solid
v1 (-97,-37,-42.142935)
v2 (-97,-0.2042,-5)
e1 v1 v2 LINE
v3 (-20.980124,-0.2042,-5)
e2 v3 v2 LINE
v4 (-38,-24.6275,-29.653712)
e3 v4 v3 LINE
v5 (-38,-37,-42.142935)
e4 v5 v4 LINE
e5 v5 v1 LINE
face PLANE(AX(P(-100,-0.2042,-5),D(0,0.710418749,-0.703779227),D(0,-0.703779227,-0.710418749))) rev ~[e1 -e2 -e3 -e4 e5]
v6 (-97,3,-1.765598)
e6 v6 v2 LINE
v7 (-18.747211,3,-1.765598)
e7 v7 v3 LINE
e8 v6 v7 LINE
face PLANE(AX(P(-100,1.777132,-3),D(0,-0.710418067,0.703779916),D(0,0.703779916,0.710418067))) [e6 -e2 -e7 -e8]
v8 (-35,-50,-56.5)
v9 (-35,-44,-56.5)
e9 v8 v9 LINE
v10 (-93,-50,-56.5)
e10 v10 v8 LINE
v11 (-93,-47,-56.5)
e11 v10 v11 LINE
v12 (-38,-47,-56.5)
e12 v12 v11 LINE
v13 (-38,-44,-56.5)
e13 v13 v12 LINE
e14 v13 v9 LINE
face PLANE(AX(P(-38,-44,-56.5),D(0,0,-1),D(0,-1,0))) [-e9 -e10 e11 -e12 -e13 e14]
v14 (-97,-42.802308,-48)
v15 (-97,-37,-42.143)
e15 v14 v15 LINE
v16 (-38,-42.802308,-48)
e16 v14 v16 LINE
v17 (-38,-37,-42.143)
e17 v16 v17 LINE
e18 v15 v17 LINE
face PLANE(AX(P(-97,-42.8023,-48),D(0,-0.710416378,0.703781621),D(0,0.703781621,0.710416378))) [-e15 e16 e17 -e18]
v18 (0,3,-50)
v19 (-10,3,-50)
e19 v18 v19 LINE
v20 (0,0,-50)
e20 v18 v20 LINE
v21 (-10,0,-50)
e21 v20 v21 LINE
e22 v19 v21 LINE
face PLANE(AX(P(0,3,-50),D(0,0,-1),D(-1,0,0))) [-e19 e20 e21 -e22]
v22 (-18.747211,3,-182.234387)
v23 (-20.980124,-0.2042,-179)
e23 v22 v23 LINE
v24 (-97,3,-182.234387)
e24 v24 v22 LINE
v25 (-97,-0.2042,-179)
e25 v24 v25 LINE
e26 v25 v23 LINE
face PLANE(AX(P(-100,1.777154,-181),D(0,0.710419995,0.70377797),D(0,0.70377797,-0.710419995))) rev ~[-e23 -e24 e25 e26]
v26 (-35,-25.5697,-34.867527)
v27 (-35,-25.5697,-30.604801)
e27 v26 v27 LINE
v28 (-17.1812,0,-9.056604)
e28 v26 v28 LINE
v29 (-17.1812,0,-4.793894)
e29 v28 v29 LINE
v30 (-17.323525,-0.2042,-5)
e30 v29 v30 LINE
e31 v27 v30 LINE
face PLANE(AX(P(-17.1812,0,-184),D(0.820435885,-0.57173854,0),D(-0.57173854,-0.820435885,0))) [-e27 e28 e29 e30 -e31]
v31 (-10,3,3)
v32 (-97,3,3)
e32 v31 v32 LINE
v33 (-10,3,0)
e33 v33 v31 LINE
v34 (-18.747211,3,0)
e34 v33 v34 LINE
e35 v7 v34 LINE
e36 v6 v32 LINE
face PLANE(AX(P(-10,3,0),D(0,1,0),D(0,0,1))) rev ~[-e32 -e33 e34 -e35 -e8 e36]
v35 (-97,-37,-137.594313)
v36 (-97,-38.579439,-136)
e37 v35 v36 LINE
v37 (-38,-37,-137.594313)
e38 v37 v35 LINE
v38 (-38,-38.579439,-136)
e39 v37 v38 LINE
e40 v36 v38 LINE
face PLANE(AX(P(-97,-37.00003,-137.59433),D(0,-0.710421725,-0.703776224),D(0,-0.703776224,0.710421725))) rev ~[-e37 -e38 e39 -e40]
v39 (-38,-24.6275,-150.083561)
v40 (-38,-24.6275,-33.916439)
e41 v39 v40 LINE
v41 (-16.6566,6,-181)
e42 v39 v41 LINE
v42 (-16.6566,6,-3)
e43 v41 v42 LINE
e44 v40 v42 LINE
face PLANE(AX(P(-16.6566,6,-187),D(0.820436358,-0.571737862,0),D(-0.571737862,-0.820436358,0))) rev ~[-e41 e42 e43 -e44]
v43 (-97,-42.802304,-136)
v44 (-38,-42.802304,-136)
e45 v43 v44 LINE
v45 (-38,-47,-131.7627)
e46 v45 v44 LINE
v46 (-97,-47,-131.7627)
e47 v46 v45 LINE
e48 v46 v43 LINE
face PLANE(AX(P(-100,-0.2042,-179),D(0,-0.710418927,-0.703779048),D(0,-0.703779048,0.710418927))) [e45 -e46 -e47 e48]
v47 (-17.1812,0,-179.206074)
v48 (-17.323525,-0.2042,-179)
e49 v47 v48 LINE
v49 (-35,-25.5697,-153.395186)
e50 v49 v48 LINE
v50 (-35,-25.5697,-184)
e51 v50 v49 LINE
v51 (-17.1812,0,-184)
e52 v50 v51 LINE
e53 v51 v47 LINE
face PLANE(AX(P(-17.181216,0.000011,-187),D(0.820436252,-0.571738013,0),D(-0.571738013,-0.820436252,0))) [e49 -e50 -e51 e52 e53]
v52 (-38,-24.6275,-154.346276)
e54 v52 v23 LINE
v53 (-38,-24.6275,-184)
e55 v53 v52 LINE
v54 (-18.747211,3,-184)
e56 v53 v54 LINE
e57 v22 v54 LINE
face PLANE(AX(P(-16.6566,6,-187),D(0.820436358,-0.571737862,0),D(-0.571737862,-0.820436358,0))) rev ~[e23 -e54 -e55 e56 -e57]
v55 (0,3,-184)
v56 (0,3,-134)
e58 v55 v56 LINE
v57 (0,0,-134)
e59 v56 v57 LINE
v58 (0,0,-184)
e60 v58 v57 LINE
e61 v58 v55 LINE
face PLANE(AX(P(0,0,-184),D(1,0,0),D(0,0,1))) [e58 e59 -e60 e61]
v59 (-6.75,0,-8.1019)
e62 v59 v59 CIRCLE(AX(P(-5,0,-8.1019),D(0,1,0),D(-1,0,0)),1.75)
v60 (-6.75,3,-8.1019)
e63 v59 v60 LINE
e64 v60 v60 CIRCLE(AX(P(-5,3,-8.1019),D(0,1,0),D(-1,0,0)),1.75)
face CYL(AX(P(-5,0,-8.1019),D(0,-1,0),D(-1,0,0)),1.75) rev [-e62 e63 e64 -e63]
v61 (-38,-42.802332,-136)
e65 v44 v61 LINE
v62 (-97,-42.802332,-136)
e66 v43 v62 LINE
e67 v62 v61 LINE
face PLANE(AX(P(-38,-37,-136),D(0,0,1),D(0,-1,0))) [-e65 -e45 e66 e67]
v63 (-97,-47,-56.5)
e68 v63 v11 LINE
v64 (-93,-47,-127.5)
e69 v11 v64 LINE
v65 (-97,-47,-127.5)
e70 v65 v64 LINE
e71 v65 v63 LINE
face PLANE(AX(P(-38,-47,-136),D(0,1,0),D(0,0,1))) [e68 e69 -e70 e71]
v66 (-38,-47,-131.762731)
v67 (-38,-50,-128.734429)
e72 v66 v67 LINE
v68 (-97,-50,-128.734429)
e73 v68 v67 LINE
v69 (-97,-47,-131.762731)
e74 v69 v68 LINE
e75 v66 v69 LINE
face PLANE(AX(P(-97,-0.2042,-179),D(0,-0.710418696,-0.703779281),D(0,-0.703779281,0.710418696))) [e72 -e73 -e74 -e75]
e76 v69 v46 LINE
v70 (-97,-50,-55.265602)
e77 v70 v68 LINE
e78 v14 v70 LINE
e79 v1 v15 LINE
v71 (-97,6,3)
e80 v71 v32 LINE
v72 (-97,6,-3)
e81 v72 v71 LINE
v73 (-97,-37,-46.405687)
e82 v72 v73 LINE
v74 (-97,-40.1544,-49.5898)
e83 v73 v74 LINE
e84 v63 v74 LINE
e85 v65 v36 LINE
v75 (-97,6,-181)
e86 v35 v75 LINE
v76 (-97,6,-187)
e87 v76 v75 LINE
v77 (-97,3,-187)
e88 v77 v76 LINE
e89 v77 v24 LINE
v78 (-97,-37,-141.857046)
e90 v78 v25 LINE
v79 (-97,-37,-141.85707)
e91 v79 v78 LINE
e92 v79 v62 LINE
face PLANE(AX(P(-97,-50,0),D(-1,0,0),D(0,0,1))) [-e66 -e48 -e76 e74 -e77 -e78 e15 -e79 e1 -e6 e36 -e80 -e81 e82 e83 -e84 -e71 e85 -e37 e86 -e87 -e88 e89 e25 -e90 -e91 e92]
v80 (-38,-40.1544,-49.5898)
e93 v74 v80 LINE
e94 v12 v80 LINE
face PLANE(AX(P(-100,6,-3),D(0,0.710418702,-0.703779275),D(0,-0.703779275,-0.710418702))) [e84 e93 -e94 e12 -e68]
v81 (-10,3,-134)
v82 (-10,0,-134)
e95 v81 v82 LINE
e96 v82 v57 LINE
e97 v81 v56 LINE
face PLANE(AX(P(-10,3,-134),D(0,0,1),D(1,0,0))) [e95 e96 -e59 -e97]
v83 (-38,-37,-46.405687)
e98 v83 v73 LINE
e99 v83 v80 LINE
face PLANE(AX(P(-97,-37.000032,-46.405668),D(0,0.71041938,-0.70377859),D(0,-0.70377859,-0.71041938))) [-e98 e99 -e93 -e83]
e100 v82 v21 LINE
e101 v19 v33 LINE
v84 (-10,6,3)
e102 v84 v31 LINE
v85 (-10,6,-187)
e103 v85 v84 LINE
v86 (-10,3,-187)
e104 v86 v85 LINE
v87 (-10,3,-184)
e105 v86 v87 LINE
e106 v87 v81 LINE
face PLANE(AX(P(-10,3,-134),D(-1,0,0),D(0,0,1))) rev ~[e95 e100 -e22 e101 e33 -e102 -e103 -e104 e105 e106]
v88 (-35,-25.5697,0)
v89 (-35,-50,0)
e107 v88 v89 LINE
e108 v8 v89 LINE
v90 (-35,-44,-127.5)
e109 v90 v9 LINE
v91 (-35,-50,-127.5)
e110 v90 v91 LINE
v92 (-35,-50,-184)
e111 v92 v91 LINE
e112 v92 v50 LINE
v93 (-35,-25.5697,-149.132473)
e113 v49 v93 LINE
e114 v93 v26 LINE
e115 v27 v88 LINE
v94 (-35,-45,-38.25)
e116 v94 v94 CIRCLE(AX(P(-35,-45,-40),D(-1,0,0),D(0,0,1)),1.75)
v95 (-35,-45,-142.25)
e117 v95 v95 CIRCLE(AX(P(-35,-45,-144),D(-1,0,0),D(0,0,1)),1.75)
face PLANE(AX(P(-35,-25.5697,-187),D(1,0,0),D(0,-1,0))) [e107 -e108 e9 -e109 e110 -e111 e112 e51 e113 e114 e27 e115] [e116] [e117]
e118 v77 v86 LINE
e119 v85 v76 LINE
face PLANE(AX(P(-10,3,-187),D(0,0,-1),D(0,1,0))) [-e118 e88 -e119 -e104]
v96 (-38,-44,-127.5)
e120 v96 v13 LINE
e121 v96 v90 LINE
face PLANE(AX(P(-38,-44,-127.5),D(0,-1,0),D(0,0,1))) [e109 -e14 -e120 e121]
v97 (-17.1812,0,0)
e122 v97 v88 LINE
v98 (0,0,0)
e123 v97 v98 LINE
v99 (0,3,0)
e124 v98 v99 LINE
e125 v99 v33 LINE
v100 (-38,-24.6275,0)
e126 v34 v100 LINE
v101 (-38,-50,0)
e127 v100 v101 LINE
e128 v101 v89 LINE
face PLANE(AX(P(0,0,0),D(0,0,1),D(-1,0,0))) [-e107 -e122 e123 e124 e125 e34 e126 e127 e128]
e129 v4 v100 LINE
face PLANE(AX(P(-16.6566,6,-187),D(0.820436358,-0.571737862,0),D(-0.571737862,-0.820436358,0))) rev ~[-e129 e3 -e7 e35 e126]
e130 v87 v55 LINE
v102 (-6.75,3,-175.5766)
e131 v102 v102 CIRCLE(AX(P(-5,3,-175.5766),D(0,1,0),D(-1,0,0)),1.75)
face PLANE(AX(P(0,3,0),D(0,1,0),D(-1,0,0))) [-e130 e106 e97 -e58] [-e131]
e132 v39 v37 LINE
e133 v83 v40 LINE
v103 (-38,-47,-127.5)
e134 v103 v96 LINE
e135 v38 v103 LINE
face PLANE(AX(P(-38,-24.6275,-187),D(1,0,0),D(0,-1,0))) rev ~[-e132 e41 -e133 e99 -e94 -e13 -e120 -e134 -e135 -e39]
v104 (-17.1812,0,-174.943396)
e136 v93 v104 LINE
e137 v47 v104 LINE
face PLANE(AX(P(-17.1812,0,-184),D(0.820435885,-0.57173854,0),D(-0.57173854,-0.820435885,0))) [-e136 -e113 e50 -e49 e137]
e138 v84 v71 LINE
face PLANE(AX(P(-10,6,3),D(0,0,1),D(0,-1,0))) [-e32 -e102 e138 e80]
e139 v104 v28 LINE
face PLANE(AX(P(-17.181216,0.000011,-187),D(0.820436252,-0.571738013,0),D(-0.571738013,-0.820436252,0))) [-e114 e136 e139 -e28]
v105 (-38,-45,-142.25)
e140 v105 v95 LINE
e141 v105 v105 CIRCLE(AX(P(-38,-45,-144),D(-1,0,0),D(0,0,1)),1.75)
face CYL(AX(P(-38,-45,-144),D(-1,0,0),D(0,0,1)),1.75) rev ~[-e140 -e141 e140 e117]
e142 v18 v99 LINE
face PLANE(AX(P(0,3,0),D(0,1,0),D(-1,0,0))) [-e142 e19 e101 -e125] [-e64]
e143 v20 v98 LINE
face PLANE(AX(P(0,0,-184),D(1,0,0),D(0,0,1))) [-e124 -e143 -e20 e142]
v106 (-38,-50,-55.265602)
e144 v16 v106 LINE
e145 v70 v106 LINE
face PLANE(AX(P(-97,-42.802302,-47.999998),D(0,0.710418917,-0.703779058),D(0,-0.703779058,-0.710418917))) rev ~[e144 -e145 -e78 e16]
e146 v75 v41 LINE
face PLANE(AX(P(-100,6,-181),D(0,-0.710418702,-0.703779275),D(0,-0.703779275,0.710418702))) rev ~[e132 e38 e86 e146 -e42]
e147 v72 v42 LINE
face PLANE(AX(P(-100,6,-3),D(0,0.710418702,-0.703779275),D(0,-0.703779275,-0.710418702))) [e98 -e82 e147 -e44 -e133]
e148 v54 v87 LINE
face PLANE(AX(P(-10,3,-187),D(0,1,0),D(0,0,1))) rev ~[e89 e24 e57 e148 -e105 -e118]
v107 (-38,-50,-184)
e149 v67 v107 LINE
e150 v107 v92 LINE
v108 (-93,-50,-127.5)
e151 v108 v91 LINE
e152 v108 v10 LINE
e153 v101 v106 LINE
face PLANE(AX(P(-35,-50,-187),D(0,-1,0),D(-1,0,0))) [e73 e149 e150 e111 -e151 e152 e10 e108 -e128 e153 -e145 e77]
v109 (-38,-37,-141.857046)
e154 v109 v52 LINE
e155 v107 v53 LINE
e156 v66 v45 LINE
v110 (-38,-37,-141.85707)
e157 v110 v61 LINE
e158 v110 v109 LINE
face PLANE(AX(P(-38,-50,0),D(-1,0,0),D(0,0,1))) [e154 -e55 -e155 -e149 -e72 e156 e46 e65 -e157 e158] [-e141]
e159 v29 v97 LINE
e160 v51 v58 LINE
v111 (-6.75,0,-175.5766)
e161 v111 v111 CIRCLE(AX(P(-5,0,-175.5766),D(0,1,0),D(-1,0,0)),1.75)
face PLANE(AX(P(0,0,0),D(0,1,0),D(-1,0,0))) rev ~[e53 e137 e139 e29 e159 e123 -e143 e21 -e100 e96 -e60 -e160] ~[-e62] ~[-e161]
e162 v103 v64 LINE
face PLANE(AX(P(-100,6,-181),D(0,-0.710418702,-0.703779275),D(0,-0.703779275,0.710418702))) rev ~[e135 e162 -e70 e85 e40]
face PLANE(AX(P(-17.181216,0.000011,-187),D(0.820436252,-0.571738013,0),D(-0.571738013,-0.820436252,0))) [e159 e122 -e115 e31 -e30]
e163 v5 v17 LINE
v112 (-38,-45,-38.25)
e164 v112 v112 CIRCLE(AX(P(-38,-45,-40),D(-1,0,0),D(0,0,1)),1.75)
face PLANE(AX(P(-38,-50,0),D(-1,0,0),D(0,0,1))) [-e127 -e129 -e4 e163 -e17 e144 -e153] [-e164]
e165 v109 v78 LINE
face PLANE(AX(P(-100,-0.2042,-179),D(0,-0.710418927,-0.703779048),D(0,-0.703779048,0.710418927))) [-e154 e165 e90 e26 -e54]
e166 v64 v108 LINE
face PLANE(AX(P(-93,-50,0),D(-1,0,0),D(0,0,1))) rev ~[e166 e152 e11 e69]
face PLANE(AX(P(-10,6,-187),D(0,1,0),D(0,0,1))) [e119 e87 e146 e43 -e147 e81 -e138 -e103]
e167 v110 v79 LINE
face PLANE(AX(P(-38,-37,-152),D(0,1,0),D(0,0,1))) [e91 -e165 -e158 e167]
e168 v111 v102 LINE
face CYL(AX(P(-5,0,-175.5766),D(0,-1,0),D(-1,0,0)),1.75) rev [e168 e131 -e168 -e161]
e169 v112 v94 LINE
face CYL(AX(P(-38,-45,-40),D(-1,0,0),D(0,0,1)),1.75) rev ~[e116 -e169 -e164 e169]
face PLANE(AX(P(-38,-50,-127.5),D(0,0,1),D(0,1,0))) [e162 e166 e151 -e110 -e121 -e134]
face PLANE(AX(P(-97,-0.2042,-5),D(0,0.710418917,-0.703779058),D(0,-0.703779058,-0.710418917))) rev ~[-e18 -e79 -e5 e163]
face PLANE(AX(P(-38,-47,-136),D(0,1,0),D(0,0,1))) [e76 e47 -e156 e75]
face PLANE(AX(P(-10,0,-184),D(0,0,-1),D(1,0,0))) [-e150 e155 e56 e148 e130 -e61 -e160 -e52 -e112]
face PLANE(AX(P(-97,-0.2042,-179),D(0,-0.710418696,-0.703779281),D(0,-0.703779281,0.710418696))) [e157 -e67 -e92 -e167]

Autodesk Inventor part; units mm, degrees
ref_plane "YZ Plane" through (0, 0, 0) normal (1, 0, 0) x (0, 1, 0)
ref_plane "XZ Plane" through (0, 0, 0) normal (0, 1, 0) x (-1, 0, 0)
ref_plane "XY Plane" through (0, 0, 0) normal (0, 0, 1) x (1, 0, 0)
sketch "스케치1" plane through (0, 0, 0) normal (0, 1, 0) x (-1, 0, 0)
  line L0 (0, 0) -> (10, 0)
  line L1 (10, 0) -> (10, -184)
  line L2 (10, -184) -> (0, -184)
  line L3 (0, -184) -> (0, 0)
  circle A0 centre (5, -175.5766) radius 1.75
  circle A1 centre (5, -8.1019) radius 1.75
  dimension "d0" = 184
  dimension "d1" = 10
  dimension "d2" = 5
  dimension "d3" = 3.5
  dimension "d4" = 3.5
  dimension "d5" = 5
  dimension "d109" = 167.4748
extrude "돌출1" add sketch "스케치1" along normal blind 3
sketch "스케치2" plane through (-10, 0, -184) normal (-1, 0, 0) x (0, 0, 1)
  line L0 (187, 0) -> (-3, 0)
  line L1 (-3, 0) -> (-3, 6)
  line L2 (-3, 6) -> (187, 6)
  line L3 (187, 6) -> (187, 0)
  line L4 (0, 0) -> (0, 3) projected
  line L5 (184, 0) -> (184, 3) projected
  line L6 (0, 3) -> (184, 3) projected
  line L7 (187, 0) -> (-3, 0)
  line L8 (-3, 0) -> (-3, 3)
  line L9 (-3, 3) -> (187, 3)
  line L10 (187, 3) -> (187, 0)
  dimension "d8" = 3
  dimension "d9" = 3
  dimension "d10" = 3
extrude "돌출2" add sketch "스케치2" along normal blind 3 contours L0 L4 L6 L5 | L9 L6 L1 L2 L3
sketch "스케치3" plane through (-10, 3, -187) normal (0, 0, -1) x (-1, 0, 0)
  line L0 (0, 3) -> (3, 3) projected
  line L1 (0, 3) -> (28, 3)
  line L2 (28, 3) -> (28, -48)
  line L3 (28, -48) -> (0, -48)
  line L4 (0, -48) -> (0, 3)
  line L5 (3, 3) -> (25, -28.5697)
  line L6 (25, -28.5697) -> (25, -48)
  line L7 (6.6566, 3) -> (28, -27.6275)
  line L8 (3, 0) -> (3, -3) projected
  line L9 (3, -3) -> (7.1812, -3)
  line L10 (3, -3) -> (6.6592, -3)
  line L11 (6.6592, -3) -> (6.6592, 3)
  line L12 (6.6592, 3) -> (3, 3)
  line L13 (3, 3) -> (3, -3)
  line L14 (28, -48) -> (25, -48)
  line L15 (25, -48) -> (25, -53)
  line L16 (25, -53) -> (28, -53)
  line L17 (28, -53) -> (28, -48)
  point P0 (-10, -3)
  dimension "d14" = 51
  dimension "d15" = 28
  dimension "d18" = 5
  dimension "d31" = 3
  dimension "d32" = 3
  dimension "d33" = 3
extrude "돌출3" add sketch "스케치3" against normal blind 190 contours L1 L7 L11 L5 | L5 L11 L9 L8 L13 | L11 L7 L2 L3 L6 L5 | L5 L9 L11 | L3 L17 L16 L15
sketch "스케치4" plane through (-10, 3, -187) normal (0, 0, -1) x (-1, 0, 0)
  line L0 (28, -53) -> (25, -53) projected
  line L1 (3, 0) -> (3, -3) projected
  line L2 (28, -53) -> (3, -53)
  line L3 (3, -53) -> (3, 0)
  line L4 (3, 0) -> (28, 0)
  line L5 (28, 0) -> (28, -53)
  point P0 (-10, -3)
extrude "돌출4" cut sketch "스케치4" against normal blind 3
sketch "스케치5" plane through (-10, 3, 3) normal (0, 0, 1) x (1, 0, 0)
  line L0 (-28, -53) -> (-25, -53) projected
  line L1 (-3, -3) -> (-3, 0) projected
  line L2 (-28, -53) -> (-3, -53)
  line L3 (-3, -53) -> (-3, 0)
  line L4 (-3, 0) -> (-28, 0)
  line L5 (-28, 0) -> (-28, -53)
  point P0 (10, -3)
extrude "돌출5" cut sketch "스케치5" against normal blind 3
sketch "스케치6" plane through (-38, -50, 0) normal (-1, 0, 0) x (0, 0, 1)
  circle A0 centre (-40, 5) radius 1.75
  circle A1 centre (-144, 5) radius 1.75
  line L0 (-184, 0) -> (0, 0) projected
  line L1 (0, 0) -> (0, 25.3725) projected
  point P0 (0, 50)
  dimension "d23" = 3.5
  dimension "d24" = 3.5
  dimension "d25" = 5
  dimension "d26" = 5
  dimension "d27" = 104
  dimension "d28" = 40
extrude "돌출6" cut sketch "스케치6" against normal blind 3
sketch "스케치7" plane through (-38, -50, 0) normal (-1, 0, 0) x (0, 0, 1)
  line L0 (-184, 0) -> (0, 0) projected
  line L1 (-56.5, 0) -> (-127.5, 0)
  line L2 (-127.5, 0) -> (-127.5, 6)
  line L3 (-127.5, 6) -> (-56.5, 6)
  line L4 (-56.5, 6) -> (-56.5, 0)
  line L5 (-184, 25.3725) -> (-184, 0) projected
  point P0 (0, 50)
  point P1 (-127.5, 0)
  dimension "d34" = 71
  dimension "d35" = 6
  dimension "d102" = 56.5
extrude "돌출7" cut sketch "스케치7" against normal blind 3
sketch "스케치8" plane through (-38, -50, 0) normal (-1, 0, 0) x (0, 0, 1)
  line L0 (0, 0) -> (-35, 0)
  line L1 (-35, 0) -> (-35, 3)
  line L2 (-35, 3) -> (0, 3)
  line L3 (0, 3) -> (0, 0)
  line L4 (-184, 0) -> (-184, 24.4303) projected
  line L5 (-184, 0) -> (-149, 0)
  line L6 (-149, 0) -> (-149, 3)
  line L7 (-149, 3) -> (-184, 3)
  line L8 (-184, 3) -> (-184, 0)
  circle A0 centre (-40, 5) radius 1.75 projected
  line L9 (-56.5, 0) -> (-56.5, 6) projected
  line L10 (-56.5, 0) -> (-45, 0)
  line L11 (-45, 0) -> (-45, 3)
  line L12 (-45, 3) -> (-56.5, 3)
  line L13 (-56.5, 3) -> (-56.5, 0)
  circle A1 centre (-144, 5) radius 1.75 projected
  line L14 (-184, 0) -> (-127.5, 0) projected
  line L15 (-127.5, 0) -> (-139, 0)
  line L16 (-139, 0) -> (-139, 3)
  line L17 (-139, 3) -> (-127.5, 3)
  line L18 (-127.5, 3) -> (-127.5, 0)
  line L19 (-139, 0) -> (-149, 0)
  line L20 (-149, 0) -> (-149, 10)
  line L21 (-149, 10) -> (-139, 10)
  line L22 (-139, 10) -> (-139, 0)
  line L23 (-184, 0) -> (-127.5, 0) projected
  line L24 (-136, 0) -> (-152, 0)
  line L25 (-152, 0) -> (-152, 13)
  line L26 (-152, 13) -> (-136, 13)
  line L27 (-136, 13) -> (-136, 0)
  line L28 (-35, 0) -> (-45, 0)
  line L29 (-45, 0) -> (-45, 10)
  line L30 (-45, 10) -> (-35, 10)
  line L31 (-35, 10) -> (-35, 0)
  line L32 (-56.5, 0) -> (0, 0) projected
  line L33 (-32, 0) -> (-48, 0)
  line L34 (-48, 0) -> (-48, 13)
  line L35 (-48, 13) -> (-32, 13)
  line L36 (-32, 13) -> (-32, 0)
  point P0 (0, 50)
  point P1 (-139, 1.5)
  point P2 (-152, 3)
  point P3 (-184, 3)
  point P4 (-149, 3)
  point P5 (-139, 3)
  point P6 (-136, 3)
  point P7 (-32, 3)
  point P8 (-48, 3)
  point P9 (-45, 3)
  point P10 (-35, 3)
  dimension "d38" = 3
  dimension "d39" = 3
  dimension "d41" = 5
  dimension "d42" = 3
  dimension "d43" = 5
  dimension "d44" = 5
  dimension "d45" = 3
  dimension "d46" = 5
  dimension "d47" = 5
  dimension "d48" = 0
  dimension "d49" = 0
  dimension "d50" = 3
  dimension "d51" = 3
  dimension "d52" = 3
  dimension "d53" = 5
  dimension "d54" = 3
  dimension "d55" = 3
  dimension "d56" = 3
  dimension "d57" = 0
extrude "돌출8" add sketch "스케치8" along normal blind 55 contours L0 L36 L2 L3 | L0 L1 L2 L36 | L2 L31 L30 L29 L12 L34 L35 L36 | L10 L34 L12 L11 | L10 L9 L12 L34 | L4 L7 L25 L5 | L25 L7 L6 L5 | L25 L26 L27 L17 L22 L21 L20 L7 | L16 L17 L27 L14 | L27 L17 L18 L14
sketch "스케치12" plane through (0, 3, -184) normal (0, 0, -1) x (-1, 0, 0)
  line L0 (10, 3) -> (10, 0) projected
  line L1 (10, 3) -> (100, 3)
  line L2 (100, 3) -> (100, 0.8239)
  line L3 (100, 0.8239) -> (10, 0.8239)
  line L4 (10, 0.8239) -> (10, 3)
  point P0 (0, -3)
  dimension "d87" = 90
sketch "스케치13" plane through (-93, -50, 0) normal (-1, 0, 0) x (0, 0, 1)
  line L0 (0, 3) -> (-32, 3) projected
  line L1 (-184, 0) -> (-184, 24.4303) projected
  line L2 (0, 3) -> (-184, 3)
  line L3 (-184, 3) -> (-184, 0)
  line L4 (-184, 0) -> (0, 0)
  line L5 (0, 0) -> (0, 3)
  line L6 (-32, 3) -> (-32, 13) projected
  line L7 (-48, 3) -> (-48, 13) projected
  line L8 (-32, 13) -> (-48, 13)
  line L9 (-48, 13) -> (-48, 3)
  line L10 (-48, 3) -> (-32, 3)
  line L11 (-32, 3) -> (-32, 13)
  line L12 (-45, 10) -> (-45, 0) projected
  line L13 (-35, 10) -> (-35, 0) projected
  line L14 (-45, 10) -> (-35, 10)
  line L15 (-35, 10) -> (-35, 3)
  line L16 (-35, 3) -> (-45, 3)
  line L17 (-45, 3) -> (-45, 10)
  line L18 (-136, 3) -> (-136, 13) projected
  line L19 (-152, 3) -> (-152, 13) projected
  line L20 (-136, 3) -> (-152, 3)
  line L21 (-152, 3) -> (-152, 13)
  line L22 (-152, 13) -> (-136, 13)
  line L23 (-136, 13) -> (-136, 3)
  line L24 (-149, 10) -> (-149, 0) projected
  line L25 (-139, 10) -> (-139, 0) projected
  line L26 (-149, 10) -> (-139, 10)
  line L27 (-139, 10) -> (-139, 3)
  line L28 (-139, 3) -> (-149, 3)
  line L29 (-149, 3) -> (-149, 10)
  point P0 (0, 50)
  point P1 (-48, 13)
  point P2 (-45, 3)
  point P3 (-35, 3)
  point P4 (-136, 13)
extrude "돌출11" add sketch "스케치13" along normal blind 7 contours L5 L4 L13 L2 L0 | L2 L13 L14 L12 L7 L8 L6 | L13 L4 L12 L2 | L12 L4 L25 L2 | L4 L24 L2 L25 | L2 L25 L26 L24 L19 L22 L18 | L4 L1 L2 L24
sketch "스케치14" plane through (-100, -50, 0) normal (-1, 0, 0) x (0, 0, 1)
  line L0 (-187, 56) -> (3, 56) projected
  line L1 (0, 0) -> (-3, 0)
  line L2 (-3, 0) -> (-3, 56)
  line L3 (-3, 56) -> (0, 56)
  line L4 (0, 56) -> (0, 0)
  line L5 (-56.5, 6) -> (-56.5, 3) projected
  line L6 (-3, 56) -> (-56.5, 3)
  line L7 (-184, 0) -> (-181, 0)
  line L8 (-181, 0) -> (-181, 56)
  line L9 (-181, 56) -> (-184, 56)
  line L10 (-184, 56) -> (-184, 0)
  line L11 (-127.5, 3) -> (-127.5, 6) projected
  line L12 (-181, 56) -> (-127.5, 3)
  line L13 (-3, 49.7958) -> (-5, 49.7958)
  line L14 (-5, 49.7958) -> (-54.1979, 1.0577)
  line L15 (-181, 49.7958) -> (-179, 49.7958)
  line L16 (-179, 49.7958) -> (-131.7627, 3)
  line L17 (-48, 3) -> (-136, 3) projected
  line L18 (0, 53) -> (-184, 53) projected
  line L19 (3, 56) -> (-3, 56)
  line L20 (-3, 56) -> (-3, 53)
  line L21 (-3, 53) -> (3, 53)
  line L22 (3, 53) -> (3, 56)
  line L23 (-181, 56) -> (-187, 56)
  line L24 (-187, 56) -> (-187, 53)
  line L25 (-187, 53) -> (-181, 53)
  line L26 (-181, 53) -> (-181, 56)
  line L27 (-8.9071, 50.1481) -> (-6.7958, 48.0168)
  line L28 (-6.7958, 48.0168) -> (0, 54.7491)
  line L29 (0, 54.7491) -> (-2.1113, 56.8804)
  line L30 (-2.1113, 56.8804) -> (-8.9071, 50.1481)
  line L31 (-174.0172, 49.0825) -> (-176.1285, 46.9512)
  line L32 (-176.1285, 46.9512) -> (-185.3697, 56.106)
  line L33 (-185.3697, 56.106) -> (-183.2583, 58.2372)
  line L34 (-183.2583, 58.2372) -> (-174.0172, 49.0825)
  point P0 (0, 50)
  point P1 (-52.2373, 3)
  point P2 (-182.2344, 53)
  point P3 (-1.7656, 53)
  dimension "d90" = 3
  dimension "d91" = 3
  dimension "d92" = 3
  dimension "d93" = 2
  dimension "d94" = 3
  dimension "d95" = 2
extrude "돌출12" add sketch "스케치14" against normal blind 90 contours L10 L32 L0 | L0 L8 L18 L32 L10 | L12 L18 L8 | L32 L10 L25 L24 L0 | L32 L18 L10 | L0 L29 L28 L18 L2 | L2 L18 L6 | L18 L12 L31 L16 L32 L8 | L8 L32 L18 | L0 L4 L29 | L18 L28 L2 | L2 L28 L14 L27 L6 L18 | L12 L17 L16 L31 | L0 L22 L21 L4 | L4 L18 L28 | L27 L14 L17 L6
sketch "스케치15" plane through (-100, -50, 0) normal (-1, 0, 0) x (0, 0, 1)
  line L0 (44.6892, 116.5237) -> (-211.4065, 116.5237)
  line L1 (-211.4065, 116.5237) -> (-211.4065, -47.1327)
  line L2 (-211.4065, -47.1327) -> (44.6892, -47.1327)
  line L3 (44.6892, -47.1327) -> (44.6892, 116.5237)
  point P0 (0, 50)
extrude "돌출13" cut sketch "스케치15" against normal blind 3
sketch "스케치16" plane through (0, 0, -184) normal (0, 0, -1) x (-1, 0, 0)
  line L0 (17.1812, 0) -> (35, -25.5697) projected
  line L1 (17.1812, 0) -> (0, 0)
  line L2 (0, 0) -> (0, -57.2886)
  line L3 (0, -57.2886) -> (17.1812, -57.2886)
  line L4 (17.1812, -57.2886) -> (17.1812, 0)
  line L5 (17.1812, -57.2886) -> (35, -57.2886)
  line L6 (35, -57.2886) -> (35, -25.5697)
  line L7 (35, -25.5697) -> (17.1812, -25.5697)
  line L8 (17.1812, -25.5697) -> (17.1812, -57.2886)
  line L9 (17.1812, 0) -> (35, -25.5697)
  point P0 (0, 0)
extrude "돌출14" cut sketch "스케치16" against normal through all
sketch "스케치17" plane through (-97, -50, 0) normal (-1, 0, 0) x (0, 0, 1)
  line L0 (-46.4057, 13) -> (-33.9164, 25.3725) projected
  line L1 (-45.6744, 13.7244) -> (-49.5898, 9.8456)
  line L2 (-49.5898, 9.8456) -> (-52.0162, 12.2948)
  line L3 (-52.0162, 12.2948) -> (-48.1007, 16.1737)
  line L4 (-48.1007, 16.1737) -> (-45.6744, 13.7244)
  line L5 (-150.0836, 25.3725) -> (-137.5943, 13) projected
  line L6 (-138.3256, 13.7244) -> (-134.7016, 10.1343)
  line L7 (-134.7016, 10.1343) -> (-131.5484, 13.3172)
  line L8 (-131.5484, 13.3172) -> (-135.1724, 16.9074)
  line L9 (-135.1724, 16.9074) -> (-138.3256, 13.7244)
  line L10 (-179, 49.7958) -> (-125.2859, -3.4163)
  line L11 (-125.2859, -3.4163) -> (-162.2217, -40.7006)
  line L12 (-162.2217, -40.7006) -> (-215.9358, 12.5116)
  line L13 (-215.9358, 12.5116) -> (-179, 49.7958)
  line L14 (-48, 7.1977) -> (-42.143, 13) projected
  line L15 (-5, 49.7958) -> (-57.5764, -2.2892)
  line L16 (-57.5764, -2.2892) -> (-11.67, -48.6286)
  line L17 (-11.67, -48.6286) -> (40.9064, 3.4564)
  line L18 (40.9064, 3.4564) -> (-5, 49.7958)
  point P0 (0, 50)
  point P1 (-42.143, 13)
extrude "돌출15" cut sketch "스케치17" against normal blind 59
sketch "스케치18" plane through (0, 3, 0) normal (0, 1, 0) x (1, 0, 0)
  line L0 (0, 0) -> (0, 184) projected
  line L1 (-10, 184) -> (-10, 0) projected
  line L2 (0, 50) -> (-10, 50)
  line L3 (-10, 50) -> (-10, 134)
  line L4 (-10, 134) -> (0, 134)
  line L5 (0, 134) -> (0, 50)
  line L6 (0, 184) -> (-10, 184) projected
  line L7 (-10, 0) -> (0, 0) projected
  point P0 (-5, 184)
  point P1 (-5, 0)
  point P2 (0, 134)
  dimension "d105" = 50
  dimension "d106" = 50
extrude "돌출16" cut sketch "스케치18" against normal blind 90 contours L2 L1 L4 L0
sketch "스케치19" plane through (-10, 0, -184) normal (1, 0, 0) x (0, 0, -1)
  line L0 (-50, 3) -> (-50, 0) projected
  line L1 (-134, 3) -> (-184, 3) projected
  line L2 (-50, 0) -> (-134, 0)
  line L3 (-134, 0) -> (-134, 3)
  line L4 (-134, 3) -> (-50, 3)
  line L5 (-50, 3) -> (-50, 0)
  point P0 (-184, 0)
sketch "스케치20" plane through (0, 3, 0) normal (0, 1, 0) x (1, 0, 0)
  circle A0 centre (-5, 8.1019) radius 1.75 projected
  circle A1 centre (-5, 8.1019) radius 1.75
  point P0 (0, 0)
equation "\"d4\" = d3"
equation "\"d5\" = d2"
equation "\"d24\" = d23"
equation "\"d26\" = d25"
equation "\"d39\" = d38"
equation "\"d43\" = d41"
equation "\"d44\" = d41"
equation "\"d46\" = d44"
equation "\"d50\" = d52"
equation "\"d51\" = d52"
equation "\"d53\" = d41"
equation "\"d54\" = d52"
equation "\"d55\" = d54"
equation "\"d56\" = d54"
equation "\"d106\" = d105"
properties part number "D2-CA"
